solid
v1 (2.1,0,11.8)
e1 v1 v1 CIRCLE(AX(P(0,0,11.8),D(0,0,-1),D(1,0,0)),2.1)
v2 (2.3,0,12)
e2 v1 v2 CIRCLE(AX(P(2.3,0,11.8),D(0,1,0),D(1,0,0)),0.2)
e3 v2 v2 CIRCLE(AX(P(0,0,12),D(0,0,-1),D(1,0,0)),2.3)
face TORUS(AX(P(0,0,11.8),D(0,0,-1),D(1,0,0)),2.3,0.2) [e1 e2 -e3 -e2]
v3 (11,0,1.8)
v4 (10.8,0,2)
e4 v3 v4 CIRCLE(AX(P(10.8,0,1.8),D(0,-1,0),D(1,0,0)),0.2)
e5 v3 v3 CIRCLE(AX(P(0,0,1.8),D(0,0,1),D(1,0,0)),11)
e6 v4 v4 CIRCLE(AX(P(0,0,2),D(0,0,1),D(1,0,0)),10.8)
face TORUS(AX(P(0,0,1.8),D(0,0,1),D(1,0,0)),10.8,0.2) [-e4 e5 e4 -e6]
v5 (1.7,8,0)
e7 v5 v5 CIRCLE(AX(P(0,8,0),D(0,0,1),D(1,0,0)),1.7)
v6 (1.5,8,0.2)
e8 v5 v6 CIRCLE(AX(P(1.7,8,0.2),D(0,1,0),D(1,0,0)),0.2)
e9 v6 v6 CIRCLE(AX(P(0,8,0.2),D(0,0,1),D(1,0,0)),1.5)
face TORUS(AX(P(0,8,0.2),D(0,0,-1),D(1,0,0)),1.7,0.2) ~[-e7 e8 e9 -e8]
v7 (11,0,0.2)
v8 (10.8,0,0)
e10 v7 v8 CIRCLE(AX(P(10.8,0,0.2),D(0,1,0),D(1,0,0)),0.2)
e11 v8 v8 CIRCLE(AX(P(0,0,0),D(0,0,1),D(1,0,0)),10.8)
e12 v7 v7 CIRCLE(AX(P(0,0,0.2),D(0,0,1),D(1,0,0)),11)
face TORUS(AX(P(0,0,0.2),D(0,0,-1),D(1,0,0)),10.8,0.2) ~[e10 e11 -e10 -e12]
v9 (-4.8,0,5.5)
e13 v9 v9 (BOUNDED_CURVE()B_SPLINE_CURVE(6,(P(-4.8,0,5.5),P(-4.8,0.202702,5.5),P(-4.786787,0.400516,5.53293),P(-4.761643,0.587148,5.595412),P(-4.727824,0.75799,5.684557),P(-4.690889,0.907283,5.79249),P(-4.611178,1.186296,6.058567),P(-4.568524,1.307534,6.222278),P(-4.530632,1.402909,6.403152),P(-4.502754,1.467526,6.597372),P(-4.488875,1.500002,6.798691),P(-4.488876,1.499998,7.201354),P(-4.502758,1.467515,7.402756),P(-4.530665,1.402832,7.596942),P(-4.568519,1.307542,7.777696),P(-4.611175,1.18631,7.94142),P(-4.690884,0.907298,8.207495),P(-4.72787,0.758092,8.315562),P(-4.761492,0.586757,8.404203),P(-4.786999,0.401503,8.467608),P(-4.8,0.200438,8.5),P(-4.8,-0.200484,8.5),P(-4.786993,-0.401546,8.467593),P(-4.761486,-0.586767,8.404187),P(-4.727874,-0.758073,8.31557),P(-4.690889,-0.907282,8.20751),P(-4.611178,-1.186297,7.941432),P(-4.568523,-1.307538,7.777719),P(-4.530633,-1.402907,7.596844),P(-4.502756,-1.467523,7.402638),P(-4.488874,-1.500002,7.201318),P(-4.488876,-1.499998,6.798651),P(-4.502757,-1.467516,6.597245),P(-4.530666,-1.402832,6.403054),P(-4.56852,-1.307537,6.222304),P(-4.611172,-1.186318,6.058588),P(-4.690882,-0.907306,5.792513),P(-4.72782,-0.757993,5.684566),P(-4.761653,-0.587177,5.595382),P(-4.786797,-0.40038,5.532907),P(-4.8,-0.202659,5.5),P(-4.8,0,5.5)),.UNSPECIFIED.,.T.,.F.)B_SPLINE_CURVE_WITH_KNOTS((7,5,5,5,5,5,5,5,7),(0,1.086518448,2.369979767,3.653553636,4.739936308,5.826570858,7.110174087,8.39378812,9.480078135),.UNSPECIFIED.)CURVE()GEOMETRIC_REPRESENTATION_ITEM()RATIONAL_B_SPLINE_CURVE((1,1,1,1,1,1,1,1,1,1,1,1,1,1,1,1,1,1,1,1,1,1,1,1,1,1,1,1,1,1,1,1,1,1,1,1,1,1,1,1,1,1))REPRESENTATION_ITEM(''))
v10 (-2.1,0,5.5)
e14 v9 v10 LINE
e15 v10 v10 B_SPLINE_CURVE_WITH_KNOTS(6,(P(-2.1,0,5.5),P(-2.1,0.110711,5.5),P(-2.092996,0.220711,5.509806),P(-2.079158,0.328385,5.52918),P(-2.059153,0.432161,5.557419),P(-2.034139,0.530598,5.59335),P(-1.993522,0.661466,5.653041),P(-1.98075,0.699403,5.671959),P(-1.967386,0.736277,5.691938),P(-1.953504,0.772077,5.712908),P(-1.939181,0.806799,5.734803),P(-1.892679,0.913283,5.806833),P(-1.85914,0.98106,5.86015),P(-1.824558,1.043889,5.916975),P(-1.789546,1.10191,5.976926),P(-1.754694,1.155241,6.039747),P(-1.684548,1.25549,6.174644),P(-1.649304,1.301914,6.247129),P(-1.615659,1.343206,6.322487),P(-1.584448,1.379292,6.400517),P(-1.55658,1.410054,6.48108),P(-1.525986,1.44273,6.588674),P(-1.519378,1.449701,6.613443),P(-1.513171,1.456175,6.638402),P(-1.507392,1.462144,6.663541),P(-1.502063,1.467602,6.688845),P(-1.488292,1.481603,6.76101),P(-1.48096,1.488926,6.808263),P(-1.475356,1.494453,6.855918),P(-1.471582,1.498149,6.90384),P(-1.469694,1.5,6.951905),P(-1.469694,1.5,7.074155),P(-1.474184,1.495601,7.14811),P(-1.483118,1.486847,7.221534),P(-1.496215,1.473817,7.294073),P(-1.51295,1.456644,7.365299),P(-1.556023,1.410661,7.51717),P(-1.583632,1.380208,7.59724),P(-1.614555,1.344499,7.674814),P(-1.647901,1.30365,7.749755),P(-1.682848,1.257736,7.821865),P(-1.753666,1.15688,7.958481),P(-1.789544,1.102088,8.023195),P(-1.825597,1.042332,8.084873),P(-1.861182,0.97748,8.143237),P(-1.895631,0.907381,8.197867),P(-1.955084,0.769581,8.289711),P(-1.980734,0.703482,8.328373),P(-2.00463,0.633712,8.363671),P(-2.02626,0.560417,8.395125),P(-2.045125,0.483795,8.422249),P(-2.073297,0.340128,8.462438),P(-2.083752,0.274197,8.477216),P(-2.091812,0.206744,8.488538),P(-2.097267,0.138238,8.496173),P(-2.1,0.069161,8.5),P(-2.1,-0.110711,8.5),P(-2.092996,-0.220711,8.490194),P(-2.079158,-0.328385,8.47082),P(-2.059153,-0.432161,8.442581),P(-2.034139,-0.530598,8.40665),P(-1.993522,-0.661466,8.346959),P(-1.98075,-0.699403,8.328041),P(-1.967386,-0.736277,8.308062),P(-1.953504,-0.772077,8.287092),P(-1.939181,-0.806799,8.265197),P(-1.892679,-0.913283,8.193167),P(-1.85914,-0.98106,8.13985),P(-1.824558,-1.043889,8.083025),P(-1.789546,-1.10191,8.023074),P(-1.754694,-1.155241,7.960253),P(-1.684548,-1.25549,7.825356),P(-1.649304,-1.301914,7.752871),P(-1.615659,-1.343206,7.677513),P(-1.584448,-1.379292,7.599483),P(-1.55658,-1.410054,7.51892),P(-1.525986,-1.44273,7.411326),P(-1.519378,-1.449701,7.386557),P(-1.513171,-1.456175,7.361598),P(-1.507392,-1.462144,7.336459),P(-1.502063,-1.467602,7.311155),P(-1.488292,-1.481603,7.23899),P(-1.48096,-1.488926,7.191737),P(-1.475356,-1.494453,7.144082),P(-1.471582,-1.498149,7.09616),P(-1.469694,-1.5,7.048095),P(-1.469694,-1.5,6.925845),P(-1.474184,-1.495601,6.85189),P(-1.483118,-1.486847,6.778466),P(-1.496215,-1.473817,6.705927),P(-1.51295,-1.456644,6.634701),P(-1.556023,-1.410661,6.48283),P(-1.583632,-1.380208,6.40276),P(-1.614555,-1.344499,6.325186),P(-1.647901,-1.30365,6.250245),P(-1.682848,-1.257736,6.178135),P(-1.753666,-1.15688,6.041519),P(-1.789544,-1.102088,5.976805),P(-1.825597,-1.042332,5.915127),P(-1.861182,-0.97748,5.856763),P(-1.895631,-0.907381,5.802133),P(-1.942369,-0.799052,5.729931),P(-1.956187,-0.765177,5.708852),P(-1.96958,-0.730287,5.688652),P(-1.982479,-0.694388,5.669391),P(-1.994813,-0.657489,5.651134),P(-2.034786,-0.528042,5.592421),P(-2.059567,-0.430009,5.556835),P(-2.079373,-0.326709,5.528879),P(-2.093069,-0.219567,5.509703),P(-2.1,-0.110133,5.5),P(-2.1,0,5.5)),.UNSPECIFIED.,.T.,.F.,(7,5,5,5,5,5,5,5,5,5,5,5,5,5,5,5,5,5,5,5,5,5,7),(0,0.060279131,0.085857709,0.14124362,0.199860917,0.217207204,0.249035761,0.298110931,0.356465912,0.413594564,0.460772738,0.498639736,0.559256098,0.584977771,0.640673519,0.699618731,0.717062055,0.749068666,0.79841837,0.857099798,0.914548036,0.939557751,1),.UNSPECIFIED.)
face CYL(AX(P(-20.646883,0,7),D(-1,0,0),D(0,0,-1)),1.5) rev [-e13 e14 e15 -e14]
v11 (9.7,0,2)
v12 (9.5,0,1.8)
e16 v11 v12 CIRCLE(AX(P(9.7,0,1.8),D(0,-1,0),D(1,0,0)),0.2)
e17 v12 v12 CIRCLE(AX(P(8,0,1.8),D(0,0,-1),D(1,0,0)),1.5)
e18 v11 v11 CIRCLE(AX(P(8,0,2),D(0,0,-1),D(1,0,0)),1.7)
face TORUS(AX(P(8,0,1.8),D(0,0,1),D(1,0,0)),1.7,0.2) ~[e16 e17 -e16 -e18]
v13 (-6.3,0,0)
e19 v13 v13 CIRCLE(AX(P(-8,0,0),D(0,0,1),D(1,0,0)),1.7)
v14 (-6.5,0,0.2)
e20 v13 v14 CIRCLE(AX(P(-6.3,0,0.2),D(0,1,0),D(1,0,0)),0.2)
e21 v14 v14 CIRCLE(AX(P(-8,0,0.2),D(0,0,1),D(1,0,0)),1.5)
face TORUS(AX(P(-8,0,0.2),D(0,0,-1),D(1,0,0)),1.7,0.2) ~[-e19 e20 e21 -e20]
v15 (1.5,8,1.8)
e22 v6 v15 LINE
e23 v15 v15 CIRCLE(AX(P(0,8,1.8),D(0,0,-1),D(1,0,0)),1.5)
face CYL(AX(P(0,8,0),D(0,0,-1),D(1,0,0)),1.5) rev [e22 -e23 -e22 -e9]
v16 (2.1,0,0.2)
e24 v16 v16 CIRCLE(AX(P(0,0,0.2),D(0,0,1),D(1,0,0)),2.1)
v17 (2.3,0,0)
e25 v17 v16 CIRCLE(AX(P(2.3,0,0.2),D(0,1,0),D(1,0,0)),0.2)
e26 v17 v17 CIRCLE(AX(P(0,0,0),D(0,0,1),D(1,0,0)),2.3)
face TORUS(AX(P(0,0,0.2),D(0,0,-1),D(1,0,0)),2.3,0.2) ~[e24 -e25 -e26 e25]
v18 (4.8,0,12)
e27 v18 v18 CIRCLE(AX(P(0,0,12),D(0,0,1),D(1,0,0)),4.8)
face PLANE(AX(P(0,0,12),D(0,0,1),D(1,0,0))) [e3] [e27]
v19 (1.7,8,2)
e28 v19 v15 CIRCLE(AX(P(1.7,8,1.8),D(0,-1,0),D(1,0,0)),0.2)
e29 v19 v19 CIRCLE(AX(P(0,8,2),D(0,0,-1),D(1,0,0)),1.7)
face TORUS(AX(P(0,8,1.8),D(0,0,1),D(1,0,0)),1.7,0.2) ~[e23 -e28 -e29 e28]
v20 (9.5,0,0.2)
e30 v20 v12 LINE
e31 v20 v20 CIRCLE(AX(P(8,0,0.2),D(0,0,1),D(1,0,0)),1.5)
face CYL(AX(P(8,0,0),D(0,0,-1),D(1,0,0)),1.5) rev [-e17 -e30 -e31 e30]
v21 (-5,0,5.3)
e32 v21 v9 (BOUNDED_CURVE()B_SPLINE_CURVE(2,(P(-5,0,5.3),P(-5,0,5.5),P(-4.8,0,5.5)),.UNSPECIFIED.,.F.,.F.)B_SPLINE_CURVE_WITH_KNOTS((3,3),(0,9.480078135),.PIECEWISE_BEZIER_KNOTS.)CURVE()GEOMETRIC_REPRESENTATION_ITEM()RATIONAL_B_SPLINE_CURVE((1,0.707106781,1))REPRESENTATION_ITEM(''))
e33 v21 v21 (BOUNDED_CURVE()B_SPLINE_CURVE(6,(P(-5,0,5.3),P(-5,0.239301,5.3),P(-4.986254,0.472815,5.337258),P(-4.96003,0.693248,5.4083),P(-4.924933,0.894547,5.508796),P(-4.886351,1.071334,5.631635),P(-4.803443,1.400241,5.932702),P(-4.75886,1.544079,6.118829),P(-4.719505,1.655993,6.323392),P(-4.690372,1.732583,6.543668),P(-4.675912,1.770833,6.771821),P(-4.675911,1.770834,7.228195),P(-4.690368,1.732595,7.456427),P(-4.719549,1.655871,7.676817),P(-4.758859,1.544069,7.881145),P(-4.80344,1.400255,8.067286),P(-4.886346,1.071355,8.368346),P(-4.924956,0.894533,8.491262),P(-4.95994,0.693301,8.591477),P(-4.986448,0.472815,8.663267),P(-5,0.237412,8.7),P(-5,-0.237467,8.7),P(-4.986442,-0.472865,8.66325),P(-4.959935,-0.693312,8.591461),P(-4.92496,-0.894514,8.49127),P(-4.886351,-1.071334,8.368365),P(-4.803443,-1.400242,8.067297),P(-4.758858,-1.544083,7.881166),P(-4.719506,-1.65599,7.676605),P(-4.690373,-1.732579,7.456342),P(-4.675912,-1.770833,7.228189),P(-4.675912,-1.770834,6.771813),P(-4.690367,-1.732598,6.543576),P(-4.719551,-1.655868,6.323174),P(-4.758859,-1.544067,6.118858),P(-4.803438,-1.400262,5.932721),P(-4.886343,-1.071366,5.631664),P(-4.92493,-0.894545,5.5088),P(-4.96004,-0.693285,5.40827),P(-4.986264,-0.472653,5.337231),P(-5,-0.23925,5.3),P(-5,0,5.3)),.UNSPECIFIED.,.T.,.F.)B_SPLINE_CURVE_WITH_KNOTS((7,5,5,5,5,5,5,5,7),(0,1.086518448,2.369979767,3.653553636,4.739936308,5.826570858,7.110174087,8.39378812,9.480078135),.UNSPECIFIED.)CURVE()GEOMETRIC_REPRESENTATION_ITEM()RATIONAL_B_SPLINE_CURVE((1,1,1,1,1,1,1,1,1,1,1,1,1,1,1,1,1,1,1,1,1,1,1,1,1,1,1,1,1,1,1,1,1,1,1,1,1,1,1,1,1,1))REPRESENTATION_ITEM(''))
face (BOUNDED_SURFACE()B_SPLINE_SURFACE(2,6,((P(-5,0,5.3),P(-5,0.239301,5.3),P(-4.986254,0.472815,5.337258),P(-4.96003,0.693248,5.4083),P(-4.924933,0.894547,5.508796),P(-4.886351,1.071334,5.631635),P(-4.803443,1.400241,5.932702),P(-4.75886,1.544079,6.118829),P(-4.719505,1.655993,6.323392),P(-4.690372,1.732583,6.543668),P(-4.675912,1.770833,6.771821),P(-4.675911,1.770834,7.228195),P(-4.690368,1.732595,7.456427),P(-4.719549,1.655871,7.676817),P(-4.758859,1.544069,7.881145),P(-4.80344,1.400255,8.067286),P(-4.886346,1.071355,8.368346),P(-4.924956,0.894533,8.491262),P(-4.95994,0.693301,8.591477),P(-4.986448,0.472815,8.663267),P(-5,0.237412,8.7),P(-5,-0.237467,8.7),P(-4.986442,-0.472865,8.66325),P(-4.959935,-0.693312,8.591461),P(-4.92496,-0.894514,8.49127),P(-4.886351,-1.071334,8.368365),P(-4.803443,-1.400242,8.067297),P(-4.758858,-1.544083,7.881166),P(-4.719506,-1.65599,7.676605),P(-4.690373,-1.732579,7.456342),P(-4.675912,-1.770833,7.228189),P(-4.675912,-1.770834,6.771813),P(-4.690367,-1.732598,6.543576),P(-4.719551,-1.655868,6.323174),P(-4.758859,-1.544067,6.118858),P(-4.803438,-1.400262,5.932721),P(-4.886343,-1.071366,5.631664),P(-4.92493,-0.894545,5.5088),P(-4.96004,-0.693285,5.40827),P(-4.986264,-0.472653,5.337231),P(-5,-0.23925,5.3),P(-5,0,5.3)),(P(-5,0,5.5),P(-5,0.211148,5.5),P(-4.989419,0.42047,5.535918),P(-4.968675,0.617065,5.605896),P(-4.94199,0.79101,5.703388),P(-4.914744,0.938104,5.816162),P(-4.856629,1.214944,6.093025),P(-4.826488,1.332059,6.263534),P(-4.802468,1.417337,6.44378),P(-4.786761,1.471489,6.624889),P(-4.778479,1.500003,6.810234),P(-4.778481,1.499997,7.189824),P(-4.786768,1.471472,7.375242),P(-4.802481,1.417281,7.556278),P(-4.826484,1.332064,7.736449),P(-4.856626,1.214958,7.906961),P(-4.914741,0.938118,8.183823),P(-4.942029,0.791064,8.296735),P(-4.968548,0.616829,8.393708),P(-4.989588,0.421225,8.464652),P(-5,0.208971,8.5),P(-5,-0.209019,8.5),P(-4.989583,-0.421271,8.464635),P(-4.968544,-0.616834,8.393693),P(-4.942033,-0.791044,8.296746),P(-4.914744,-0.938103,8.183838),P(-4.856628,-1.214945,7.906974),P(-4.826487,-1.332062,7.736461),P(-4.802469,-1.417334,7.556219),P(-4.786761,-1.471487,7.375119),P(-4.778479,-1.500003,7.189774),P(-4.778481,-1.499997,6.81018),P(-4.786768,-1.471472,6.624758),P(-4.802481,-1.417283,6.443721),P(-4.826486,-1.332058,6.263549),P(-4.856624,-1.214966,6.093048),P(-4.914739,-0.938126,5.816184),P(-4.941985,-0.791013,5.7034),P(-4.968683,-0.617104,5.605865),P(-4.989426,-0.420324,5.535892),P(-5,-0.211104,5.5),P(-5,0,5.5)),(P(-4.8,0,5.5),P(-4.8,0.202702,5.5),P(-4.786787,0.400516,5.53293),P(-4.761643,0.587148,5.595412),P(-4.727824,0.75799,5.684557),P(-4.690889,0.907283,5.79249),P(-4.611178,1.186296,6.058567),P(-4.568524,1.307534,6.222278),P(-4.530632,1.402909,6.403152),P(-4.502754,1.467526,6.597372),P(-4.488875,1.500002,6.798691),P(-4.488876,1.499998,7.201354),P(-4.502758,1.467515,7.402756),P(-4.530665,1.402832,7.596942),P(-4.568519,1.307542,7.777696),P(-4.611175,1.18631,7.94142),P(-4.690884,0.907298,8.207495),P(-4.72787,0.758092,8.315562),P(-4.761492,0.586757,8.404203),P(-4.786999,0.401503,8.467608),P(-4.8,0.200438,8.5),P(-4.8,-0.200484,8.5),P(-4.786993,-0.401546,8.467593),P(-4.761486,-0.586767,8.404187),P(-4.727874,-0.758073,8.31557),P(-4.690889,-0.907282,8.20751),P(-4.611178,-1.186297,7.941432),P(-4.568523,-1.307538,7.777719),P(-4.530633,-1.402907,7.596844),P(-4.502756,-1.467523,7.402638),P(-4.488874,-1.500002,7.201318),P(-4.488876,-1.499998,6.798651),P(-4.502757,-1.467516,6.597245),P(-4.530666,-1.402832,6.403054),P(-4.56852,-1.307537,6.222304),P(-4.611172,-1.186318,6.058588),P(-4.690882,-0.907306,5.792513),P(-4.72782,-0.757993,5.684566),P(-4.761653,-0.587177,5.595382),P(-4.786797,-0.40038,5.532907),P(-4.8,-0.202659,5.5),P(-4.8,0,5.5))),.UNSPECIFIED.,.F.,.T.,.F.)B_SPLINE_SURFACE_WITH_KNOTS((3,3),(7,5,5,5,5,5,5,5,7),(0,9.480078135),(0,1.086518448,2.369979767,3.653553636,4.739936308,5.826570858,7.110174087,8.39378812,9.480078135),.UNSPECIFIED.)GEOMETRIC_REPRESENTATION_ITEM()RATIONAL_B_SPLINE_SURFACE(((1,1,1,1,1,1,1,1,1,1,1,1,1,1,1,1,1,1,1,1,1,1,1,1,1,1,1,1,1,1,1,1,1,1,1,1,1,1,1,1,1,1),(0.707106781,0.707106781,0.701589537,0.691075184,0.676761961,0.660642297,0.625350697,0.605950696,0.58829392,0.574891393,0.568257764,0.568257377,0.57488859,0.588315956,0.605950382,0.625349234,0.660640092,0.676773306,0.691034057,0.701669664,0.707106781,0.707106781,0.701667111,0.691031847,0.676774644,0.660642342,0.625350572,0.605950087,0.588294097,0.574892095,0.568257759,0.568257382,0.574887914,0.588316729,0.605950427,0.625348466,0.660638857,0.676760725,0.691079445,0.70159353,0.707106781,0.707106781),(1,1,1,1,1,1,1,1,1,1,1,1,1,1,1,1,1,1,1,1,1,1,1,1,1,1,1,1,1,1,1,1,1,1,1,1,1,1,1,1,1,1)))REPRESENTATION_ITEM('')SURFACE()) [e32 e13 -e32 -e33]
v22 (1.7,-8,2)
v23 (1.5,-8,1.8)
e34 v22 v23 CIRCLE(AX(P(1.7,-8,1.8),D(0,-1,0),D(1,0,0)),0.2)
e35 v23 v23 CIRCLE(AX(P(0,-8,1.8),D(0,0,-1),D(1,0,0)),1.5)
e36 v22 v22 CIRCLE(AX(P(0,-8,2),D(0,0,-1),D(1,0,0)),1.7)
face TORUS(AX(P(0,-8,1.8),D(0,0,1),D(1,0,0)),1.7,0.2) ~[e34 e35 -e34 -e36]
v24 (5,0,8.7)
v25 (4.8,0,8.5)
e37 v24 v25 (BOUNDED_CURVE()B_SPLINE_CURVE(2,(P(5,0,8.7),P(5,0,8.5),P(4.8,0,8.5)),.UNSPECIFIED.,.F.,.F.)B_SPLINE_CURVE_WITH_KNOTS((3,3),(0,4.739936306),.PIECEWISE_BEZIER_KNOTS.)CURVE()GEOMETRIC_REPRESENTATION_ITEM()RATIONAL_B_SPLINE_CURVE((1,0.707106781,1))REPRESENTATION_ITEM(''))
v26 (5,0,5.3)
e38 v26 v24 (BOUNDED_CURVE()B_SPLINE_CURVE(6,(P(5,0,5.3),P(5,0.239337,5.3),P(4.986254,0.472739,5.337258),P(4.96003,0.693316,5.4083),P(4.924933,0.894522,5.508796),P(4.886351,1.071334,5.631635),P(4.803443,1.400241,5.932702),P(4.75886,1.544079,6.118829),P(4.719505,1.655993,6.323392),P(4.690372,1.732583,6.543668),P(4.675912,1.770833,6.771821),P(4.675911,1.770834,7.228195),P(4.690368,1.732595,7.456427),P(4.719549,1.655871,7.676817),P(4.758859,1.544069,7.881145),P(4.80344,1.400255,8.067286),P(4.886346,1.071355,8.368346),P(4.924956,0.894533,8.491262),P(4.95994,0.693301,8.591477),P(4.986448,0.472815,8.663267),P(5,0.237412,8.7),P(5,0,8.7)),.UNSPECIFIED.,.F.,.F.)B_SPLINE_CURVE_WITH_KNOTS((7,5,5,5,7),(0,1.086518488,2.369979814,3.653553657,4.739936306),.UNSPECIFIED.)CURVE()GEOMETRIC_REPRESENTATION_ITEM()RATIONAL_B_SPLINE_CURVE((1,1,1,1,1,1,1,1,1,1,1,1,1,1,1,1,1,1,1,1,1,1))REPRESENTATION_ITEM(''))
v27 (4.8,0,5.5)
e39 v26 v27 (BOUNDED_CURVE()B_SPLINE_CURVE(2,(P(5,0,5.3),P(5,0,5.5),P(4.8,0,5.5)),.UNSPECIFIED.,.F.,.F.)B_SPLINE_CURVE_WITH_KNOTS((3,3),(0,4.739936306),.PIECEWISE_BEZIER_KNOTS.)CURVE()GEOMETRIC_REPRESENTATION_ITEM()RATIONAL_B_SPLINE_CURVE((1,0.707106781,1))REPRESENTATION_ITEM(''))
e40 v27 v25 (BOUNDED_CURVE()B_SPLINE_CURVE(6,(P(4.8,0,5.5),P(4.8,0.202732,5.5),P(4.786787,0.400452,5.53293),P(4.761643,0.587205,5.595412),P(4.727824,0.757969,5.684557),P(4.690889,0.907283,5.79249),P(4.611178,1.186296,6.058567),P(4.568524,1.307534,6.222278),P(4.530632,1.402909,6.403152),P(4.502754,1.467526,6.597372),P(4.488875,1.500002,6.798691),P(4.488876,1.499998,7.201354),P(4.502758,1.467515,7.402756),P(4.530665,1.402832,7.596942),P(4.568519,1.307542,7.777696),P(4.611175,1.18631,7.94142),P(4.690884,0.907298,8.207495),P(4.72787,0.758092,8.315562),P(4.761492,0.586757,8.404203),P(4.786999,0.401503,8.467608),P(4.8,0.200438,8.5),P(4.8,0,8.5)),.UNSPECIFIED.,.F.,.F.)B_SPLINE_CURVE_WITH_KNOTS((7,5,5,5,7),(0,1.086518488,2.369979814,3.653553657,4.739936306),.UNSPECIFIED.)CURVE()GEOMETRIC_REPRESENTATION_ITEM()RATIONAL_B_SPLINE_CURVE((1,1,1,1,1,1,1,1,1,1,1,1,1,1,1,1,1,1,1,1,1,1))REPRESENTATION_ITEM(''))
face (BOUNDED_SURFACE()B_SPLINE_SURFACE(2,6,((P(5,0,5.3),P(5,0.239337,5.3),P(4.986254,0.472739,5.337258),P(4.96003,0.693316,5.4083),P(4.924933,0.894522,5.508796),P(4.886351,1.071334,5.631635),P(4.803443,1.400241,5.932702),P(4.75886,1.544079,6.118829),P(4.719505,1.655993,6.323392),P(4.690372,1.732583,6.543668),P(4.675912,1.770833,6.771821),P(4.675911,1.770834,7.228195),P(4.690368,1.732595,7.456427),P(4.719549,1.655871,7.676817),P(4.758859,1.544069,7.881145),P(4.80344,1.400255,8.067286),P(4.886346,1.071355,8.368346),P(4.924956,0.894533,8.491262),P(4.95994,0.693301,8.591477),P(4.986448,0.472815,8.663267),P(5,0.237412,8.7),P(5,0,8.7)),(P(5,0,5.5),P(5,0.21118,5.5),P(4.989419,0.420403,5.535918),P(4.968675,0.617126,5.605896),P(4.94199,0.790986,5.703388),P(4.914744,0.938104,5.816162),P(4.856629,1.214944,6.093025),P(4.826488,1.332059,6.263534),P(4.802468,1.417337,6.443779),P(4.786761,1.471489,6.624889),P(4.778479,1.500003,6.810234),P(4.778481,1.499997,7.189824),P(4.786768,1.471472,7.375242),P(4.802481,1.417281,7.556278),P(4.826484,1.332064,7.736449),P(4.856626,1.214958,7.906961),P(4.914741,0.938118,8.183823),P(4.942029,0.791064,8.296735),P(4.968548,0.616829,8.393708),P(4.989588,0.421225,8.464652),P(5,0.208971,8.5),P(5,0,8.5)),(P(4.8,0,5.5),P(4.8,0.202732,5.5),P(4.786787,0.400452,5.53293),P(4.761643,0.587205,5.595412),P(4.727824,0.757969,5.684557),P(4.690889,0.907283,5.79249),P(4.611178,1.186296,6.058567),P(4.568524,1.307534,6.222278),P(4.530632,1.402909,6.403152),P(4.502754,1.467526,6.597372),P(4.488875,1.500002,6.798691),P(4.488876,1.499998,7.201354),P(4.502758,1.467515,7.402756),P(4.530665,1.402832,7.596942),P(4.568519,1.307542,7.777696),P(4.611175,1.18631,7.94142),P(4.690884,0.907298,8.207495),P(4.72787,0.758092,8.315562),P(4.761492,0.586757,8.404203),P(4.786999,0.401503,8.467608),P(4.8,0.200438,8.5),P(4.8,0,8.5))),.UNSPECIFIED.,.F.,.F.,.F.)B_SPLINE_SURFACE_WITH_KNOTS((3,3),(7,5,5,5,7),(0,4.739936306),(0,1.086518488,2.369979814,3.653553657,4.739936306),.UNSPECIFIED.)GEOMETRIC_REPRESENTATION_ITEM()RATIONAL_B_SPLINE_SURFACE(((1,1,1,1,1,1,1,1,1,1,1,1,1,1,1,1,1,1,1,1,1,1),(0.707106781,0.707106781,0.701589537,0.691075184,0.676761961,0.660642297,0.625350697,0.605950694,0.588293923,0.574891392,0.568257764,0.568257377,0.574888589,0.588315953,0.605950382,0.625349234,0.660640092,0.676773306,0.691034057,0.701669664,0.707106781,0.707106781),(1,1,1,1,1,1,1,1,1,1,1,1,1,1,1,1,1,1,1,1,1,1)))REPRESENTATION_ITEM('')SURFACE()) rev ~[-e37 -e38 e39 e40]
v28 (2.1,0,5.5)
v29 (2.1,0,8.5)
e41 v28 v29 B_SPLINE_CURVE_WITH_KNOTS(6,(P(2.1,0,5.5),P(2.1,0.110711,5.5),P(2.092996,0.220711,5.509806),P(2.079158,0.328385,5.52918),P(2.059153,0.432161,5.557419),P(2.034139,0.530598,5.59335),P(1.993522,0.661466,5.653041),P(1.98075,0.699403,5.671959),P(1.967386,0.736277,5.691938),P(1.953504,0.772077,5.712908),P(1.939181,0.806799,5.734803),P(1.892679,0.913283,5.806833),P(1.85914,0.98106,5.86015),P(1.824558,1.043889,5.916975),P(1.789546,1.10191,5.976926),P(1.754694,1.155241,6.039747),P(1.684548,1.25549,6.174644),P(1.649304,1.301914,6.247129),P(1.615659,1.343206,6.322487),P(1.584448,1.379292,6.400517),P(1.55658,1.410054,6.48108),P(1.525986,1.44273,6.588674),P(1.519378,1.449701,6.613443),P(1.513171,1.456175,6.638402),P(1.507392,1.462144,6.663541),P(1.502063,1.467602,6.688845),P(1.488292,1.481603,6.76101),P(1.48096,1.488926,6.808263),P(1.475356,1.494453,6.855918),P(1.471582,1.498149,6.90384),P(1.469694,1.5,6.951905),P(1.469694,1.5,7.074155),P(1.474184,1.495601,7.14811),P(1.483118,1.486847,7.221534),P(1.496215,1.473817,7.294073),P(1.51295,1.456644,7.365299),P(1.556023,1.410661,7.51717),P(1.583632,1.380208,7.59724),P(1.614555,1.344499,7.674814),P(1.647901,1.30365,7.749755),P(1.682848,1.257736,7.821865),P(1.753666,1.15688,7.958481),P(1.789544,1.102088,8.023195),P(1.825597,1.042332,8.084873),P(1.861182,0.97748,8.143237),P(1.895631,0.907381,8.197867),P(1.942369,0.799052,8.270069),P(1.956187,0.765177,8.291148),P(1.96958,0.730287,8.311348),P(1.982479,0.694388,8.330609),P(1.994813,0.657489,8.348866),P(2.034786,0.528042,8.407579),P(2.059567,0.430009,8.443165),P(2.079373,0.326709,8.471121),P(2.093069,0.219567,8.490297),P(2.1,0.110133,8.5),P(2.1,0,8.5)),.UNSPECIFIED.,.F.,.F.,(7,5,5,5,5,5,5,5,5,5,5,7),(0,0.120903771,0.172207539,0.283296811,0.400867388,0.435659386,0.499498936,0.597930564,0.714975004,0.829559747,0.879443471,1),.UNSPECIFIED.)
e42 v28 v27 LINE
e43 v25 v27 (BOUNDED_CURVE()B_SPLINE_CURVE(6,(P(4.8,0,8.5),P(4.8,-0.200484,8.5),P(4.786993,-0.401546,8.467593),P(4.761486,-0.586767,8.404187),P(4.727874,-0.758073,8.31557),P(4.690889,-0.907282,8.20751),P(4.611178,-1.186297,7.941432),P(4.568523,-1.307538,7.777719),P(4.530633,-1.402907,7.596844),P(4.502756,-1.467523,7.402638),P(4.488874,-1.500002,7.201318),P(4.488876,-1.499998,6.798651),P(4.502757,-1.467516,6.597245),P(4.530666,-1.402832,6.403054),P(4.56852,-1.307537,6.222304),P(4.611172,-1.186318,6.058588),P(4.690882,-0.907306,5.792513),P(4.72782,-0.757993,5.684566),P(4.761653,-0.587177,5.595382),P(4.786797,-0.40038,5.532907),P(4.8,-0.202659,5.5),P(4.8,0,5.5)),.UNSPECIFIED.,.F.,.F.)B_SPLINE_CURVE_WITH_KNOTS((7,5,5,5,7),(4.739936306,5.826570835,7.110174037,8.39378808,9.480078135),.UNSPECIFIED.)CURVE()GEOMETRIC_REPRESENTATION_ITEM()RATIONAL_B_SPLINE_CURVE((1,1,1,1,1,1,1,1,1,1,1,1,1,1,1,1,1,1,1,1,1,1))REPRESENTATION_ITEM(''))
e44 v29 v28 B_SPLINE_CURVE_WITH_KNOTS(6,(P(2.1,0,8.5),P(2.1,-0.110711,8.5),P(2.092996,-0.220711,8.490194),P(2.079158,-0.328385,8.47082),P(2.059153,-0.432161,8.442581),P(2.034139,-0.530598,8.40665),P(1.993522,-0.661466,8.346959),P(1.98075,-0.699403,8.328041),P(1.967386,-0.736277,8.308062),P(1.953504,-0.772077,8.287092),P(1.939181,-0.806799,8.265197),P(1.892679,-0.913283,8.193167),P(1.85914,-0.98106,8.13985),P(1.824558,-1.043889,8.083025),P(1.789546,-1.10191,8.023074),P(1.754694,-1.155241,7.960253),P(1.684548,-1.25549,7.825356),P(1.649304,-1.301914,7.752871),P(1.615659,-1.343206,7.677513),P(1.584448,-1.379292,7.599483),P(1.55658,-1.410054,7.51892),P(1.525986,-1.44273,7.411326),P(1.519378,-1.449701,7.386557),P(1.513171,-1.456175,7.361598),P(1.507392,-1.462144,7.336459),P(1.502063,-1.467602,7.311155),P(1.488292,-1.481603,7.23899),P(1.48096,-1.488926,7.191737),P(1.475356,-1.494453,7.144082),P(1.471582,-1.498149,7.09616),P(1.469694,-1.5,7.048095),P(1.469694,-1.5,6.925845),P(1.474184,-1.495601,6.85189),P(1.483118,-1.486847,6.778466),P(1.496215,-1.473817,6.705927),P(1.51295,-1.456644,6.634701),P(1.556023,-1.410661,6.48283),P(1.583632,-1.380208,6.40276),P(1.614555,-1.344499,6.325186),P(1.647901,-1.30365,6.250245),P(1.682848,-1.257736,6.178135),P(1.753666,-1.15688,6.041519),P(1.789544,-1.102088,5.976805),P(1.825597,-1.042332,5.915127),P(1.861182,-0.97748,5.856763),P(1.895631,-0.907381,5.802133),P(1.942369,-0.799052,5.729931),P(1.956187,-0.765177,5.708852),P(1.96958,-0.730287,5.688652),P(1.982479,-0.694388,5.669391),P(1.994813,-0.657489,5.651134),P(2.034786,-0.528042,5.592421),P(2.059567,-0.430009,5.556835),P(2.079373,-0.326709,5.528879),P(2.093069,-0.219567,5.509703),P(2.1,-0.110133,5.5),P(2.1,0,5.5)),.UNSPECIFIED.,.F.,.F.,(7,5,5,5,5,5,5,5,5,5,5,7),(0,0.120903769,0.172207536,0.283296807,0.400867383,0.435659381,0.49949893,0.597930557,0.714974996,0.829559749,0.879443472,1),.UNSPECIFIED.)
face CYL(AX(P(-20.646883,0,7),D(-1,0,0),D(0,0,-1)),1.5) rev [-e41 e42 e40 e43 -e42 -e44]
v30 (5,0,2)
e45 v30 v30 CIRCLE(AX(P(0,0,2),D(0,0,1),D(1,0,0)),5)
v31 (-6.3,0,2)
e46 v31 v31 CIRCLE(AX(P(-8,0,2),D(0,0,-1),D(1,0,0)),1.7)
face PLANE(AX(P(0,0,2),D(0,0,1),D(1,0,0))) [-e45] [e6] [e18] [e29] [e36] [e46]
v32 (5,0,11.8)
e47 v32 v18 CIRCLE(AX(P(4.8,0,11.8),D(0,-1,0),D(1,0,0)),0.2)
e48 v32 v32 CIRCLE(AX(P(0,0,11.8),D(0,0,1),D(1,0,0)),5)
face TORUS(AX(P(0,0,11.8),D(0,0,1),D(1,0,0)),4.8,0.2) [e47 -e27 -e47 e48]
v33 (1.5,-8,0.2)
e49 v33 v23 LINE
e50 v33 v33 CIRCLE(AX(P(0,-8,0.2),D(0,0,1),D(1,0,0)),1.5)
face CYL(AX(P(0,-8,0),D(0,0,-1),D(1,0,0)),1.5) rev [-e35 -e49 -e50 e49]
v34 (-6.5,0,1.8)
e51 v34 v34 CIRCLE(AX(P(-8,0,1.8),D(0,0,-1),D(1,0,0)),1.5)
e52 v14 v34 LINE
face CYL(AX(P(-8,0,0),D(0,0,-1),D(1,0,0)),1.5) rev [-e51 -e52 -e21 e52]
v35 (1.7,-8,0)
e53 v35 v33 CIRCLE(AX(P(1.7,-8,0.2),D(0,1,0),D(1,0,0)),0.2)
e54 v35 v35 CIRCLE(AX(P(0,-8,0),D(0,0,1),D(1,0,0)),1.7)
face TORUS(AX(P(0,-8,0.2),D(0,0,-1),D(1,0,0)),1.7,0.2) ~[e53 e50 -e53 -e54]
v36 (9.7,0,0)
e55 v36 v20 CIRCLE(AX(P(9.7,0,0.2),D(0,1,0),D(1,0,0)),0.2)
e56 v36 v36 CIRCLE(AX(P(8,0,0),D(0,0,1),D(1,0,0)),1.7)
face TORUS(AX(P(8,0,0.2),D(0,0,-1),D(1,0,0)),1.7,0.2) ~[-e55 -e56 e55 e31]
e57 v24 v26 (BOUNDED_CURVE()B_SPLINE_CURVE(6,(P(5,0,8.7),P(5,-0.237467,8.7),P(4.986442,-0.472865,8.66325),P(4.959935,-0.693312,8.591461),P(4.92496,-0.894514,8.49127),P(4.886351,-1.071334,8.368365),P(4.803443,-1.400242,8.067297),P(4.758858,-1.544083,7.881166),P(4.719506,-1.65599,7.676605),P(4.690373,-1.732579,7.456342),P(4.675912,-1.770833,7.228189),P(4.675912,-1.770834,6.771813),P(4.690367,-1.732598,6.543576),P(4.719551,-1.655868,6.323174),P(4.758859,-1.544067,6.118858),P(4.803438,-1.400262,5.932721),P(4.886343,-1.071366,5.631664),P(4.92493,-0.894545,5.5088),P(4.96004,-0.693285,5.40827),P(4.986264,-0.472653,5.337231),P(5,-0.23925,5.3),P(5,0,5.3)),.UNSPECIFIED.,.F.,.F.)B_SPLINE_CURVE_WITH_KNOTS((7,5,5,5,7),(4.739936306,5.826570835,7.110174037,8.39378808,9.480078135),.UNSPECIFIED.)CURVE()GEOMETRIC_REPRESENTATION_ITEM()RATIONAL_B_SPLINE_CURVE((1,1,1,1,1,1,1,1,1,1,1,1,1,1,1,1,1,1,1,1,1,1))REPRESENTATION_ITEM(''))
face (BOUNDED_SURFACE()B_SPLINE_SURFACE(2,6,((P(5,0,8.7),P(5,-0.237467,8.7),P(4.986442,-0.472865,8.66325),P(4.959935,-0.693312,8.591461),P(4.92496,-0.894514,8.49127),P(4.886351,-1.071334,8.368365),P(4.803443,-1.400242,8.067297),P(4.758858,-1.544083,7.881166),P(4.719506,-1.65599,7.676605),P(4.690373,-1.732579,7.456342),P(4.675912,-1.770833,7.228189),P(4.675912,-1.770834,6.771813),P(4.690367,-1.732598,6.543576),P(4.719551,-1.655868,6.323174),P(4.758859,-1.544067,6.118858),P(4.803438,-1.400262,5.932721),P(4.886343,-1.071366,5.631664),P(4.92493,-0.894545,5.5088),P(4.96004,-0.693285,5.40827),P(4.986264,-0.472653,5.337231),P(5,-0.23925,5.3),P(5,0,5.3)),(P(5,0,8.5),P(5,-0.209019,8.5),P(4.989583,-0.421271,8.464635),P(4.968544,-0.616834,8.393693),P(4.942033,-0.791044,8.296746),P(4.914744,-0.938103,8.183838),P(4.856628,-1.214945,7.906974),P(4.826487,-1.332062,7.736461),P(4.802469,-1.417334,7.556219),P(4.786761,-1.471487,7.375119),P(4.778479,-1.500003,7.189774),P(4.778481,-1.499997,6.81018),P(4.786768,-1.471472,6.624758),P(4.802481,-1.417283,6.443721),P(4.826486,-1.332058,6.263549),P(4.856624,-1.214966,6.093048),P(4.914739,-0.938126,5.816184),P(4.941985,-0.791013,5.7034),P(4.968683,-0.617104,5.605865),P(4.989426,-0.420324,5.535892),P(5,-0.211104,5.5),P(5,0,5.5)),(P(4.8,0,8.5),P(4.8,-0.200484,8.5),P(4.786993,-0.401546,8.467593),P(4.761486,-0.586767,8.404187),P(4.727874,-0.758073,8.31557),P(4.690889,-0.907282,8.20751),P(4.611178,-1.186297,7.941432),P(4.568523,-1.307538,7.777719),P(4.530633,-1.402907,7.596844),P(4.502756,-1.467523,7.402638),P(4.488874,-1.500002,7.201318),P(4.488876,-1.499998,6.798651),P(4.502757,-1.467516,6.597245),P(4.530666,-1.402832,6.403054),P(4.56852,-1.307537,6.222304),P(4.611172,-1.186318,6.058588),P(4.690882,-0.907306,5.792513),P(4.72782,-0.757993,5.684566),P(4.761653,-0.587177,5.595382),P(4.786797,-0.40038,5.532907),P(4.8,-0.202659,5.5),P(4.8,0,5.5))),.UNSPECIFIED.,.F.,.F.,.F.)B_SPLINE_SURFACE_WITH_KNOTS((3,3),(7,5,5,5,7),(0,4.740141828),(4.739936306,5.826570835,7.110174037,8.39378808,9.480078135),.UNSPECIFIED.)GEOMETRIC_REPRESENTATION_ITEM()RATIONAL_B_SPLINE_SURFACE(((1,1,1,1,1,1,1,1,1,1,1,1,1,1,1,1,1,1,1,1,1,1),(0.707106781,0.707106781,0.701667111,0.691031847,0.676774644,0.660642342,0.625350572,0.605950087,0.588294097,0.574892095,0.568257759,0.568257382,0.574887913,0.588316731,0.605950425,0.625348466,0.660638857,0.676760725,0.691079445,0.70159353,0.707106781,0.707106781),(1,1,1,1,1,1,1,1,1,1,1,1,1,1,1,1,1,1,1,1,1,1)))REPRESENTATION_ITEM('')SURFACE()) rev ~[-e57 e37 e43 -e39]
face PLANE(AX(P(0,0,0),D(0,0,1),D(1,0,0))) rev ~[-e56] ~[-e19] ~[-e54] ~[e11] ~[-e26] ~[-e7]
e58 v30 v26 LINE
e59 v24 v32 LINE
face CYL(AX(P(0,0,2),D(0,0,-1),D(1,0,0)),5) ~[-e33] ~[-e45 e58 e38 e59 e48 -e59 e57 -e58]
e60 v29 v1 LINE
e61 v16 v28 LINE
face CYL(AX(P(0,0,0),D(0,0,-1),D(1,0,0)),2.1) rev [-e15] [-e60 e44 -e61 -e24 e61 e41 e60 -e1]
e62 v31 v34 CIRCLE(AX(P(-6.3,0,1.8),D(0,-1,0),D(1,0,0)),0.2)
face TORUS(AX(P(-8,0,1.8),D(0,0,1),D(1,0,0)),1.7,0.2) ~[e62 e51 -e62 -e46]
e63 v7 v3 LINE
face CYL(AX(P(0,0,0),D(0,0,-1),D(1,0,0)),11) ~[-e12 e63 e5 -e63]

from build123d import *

# Parameters (mm, degrees)
SKETCH1_R               = 11
BOSS_EXTRUDE1_DEPTH     = 2
BOSS_EXTRUDE2_START     = 2
SKETCH2_R               = 5
BOSS_EXTRUDE2_DEPTH     = 10
SKETCH3_R               = 2.1
CUT_EXTRUDE1_DEPTH      = 20.646882704
SKETCH5_R               = 1.5
CUT_EXTRUDE2_DEPTH      = 20.646882704
CUT_EXTRUDE3_DEPTH      = 20.646882704
CUT_EXTRUDE3_DEPTH_BACK = 20.646882704
SKETCH6_R               = 1.5
FILLET1_R               = 0.2


with BuildPart() as part:
    # Sketch1 → Boss-Extrude1 (new body)
    with BuildSketch(Plane.XY):
        Circle(SKETCH1_R)
    extrude(amount=BOSS_EXTRUDE1_DEPTH)

    # Sketch2 → Boss-Extrude2 (add)
    with BuildSketch(Plane.XY.offset(BOSS_EXTRUDE2_START)):
        Circle(SKETCH2_R)
    extrude(amount=BOSS_EXTRUDE2_DEPTH)

    # Sketch3 → Cut-Extrude1 (cut, through all)
    with BuildSketch(Plane.XY):
        Circle(SKETCH3_R)
    extrude(amount=CUT_EXTRUDE1_DEPTH, mode=Mode.SUBTRACT)

    # Sketch5 → Cut-Extrude2 (cut, through all)
    with BuildSketch(Plane.XY):
        with Locations((0, 8)):
            Circle(SKETCH5_R)
        with Locations((8, 0)):
            Circle(SKETCH5_R)
        with Locations((0, -8)):
            Circle(SKETCH5_R)
        with Locations((-8, 0)):
            Circle(SKETCH5_R)
    extrude(amount=CUT_EXTRUDE2_DEPTH, mode=Mode.SUBTRACT)

    # Sketch6 → Cut-Extrude3 (cut, two sides: drawn at the far end of the back side and taken through both)
    with BuildSketch(Plane(origin=(0, 0, 0), x_dir=(0, 0, -1), z_dir=(1, 0, 0)).offset(-CUT_EXTRUDE3_DEPTH_BACK)):
        with Locations((-7, 0)):
            Circle(SKETCH6_R)
    extrude(amount=CUT_EXTRUDE3_DEPTH + CUT_EXTRUDE3_DEPTH_BACK, mode=Mode.SUBTRACT)

    # Fillet1
    fillet1_edges = [part.edges().sort_by_distance(p)[0] for p in [
        (-2.1, 0, 0),
        (-2.1, 0, 12),
        (-11, 0, 0),
        (-1.5, 8, 2),
        (-1.5, 8, 0),
        (6.5, 0, 2),
        (6.5, 0, 0),
        (-1.5, -8, 2),
        (-1.5, -8, 0),
        (-9.5, 0, 2),
        (-9.5, 0, 0),
        (-5, 0, 8.5),
        (4.769696007, 1.5, 7),
        (-11, 0, 2),
        (-5, 0, 12),
    ]]
    fillet(fillet1_edges, radius=FILLET1_R)


solid = part.part
